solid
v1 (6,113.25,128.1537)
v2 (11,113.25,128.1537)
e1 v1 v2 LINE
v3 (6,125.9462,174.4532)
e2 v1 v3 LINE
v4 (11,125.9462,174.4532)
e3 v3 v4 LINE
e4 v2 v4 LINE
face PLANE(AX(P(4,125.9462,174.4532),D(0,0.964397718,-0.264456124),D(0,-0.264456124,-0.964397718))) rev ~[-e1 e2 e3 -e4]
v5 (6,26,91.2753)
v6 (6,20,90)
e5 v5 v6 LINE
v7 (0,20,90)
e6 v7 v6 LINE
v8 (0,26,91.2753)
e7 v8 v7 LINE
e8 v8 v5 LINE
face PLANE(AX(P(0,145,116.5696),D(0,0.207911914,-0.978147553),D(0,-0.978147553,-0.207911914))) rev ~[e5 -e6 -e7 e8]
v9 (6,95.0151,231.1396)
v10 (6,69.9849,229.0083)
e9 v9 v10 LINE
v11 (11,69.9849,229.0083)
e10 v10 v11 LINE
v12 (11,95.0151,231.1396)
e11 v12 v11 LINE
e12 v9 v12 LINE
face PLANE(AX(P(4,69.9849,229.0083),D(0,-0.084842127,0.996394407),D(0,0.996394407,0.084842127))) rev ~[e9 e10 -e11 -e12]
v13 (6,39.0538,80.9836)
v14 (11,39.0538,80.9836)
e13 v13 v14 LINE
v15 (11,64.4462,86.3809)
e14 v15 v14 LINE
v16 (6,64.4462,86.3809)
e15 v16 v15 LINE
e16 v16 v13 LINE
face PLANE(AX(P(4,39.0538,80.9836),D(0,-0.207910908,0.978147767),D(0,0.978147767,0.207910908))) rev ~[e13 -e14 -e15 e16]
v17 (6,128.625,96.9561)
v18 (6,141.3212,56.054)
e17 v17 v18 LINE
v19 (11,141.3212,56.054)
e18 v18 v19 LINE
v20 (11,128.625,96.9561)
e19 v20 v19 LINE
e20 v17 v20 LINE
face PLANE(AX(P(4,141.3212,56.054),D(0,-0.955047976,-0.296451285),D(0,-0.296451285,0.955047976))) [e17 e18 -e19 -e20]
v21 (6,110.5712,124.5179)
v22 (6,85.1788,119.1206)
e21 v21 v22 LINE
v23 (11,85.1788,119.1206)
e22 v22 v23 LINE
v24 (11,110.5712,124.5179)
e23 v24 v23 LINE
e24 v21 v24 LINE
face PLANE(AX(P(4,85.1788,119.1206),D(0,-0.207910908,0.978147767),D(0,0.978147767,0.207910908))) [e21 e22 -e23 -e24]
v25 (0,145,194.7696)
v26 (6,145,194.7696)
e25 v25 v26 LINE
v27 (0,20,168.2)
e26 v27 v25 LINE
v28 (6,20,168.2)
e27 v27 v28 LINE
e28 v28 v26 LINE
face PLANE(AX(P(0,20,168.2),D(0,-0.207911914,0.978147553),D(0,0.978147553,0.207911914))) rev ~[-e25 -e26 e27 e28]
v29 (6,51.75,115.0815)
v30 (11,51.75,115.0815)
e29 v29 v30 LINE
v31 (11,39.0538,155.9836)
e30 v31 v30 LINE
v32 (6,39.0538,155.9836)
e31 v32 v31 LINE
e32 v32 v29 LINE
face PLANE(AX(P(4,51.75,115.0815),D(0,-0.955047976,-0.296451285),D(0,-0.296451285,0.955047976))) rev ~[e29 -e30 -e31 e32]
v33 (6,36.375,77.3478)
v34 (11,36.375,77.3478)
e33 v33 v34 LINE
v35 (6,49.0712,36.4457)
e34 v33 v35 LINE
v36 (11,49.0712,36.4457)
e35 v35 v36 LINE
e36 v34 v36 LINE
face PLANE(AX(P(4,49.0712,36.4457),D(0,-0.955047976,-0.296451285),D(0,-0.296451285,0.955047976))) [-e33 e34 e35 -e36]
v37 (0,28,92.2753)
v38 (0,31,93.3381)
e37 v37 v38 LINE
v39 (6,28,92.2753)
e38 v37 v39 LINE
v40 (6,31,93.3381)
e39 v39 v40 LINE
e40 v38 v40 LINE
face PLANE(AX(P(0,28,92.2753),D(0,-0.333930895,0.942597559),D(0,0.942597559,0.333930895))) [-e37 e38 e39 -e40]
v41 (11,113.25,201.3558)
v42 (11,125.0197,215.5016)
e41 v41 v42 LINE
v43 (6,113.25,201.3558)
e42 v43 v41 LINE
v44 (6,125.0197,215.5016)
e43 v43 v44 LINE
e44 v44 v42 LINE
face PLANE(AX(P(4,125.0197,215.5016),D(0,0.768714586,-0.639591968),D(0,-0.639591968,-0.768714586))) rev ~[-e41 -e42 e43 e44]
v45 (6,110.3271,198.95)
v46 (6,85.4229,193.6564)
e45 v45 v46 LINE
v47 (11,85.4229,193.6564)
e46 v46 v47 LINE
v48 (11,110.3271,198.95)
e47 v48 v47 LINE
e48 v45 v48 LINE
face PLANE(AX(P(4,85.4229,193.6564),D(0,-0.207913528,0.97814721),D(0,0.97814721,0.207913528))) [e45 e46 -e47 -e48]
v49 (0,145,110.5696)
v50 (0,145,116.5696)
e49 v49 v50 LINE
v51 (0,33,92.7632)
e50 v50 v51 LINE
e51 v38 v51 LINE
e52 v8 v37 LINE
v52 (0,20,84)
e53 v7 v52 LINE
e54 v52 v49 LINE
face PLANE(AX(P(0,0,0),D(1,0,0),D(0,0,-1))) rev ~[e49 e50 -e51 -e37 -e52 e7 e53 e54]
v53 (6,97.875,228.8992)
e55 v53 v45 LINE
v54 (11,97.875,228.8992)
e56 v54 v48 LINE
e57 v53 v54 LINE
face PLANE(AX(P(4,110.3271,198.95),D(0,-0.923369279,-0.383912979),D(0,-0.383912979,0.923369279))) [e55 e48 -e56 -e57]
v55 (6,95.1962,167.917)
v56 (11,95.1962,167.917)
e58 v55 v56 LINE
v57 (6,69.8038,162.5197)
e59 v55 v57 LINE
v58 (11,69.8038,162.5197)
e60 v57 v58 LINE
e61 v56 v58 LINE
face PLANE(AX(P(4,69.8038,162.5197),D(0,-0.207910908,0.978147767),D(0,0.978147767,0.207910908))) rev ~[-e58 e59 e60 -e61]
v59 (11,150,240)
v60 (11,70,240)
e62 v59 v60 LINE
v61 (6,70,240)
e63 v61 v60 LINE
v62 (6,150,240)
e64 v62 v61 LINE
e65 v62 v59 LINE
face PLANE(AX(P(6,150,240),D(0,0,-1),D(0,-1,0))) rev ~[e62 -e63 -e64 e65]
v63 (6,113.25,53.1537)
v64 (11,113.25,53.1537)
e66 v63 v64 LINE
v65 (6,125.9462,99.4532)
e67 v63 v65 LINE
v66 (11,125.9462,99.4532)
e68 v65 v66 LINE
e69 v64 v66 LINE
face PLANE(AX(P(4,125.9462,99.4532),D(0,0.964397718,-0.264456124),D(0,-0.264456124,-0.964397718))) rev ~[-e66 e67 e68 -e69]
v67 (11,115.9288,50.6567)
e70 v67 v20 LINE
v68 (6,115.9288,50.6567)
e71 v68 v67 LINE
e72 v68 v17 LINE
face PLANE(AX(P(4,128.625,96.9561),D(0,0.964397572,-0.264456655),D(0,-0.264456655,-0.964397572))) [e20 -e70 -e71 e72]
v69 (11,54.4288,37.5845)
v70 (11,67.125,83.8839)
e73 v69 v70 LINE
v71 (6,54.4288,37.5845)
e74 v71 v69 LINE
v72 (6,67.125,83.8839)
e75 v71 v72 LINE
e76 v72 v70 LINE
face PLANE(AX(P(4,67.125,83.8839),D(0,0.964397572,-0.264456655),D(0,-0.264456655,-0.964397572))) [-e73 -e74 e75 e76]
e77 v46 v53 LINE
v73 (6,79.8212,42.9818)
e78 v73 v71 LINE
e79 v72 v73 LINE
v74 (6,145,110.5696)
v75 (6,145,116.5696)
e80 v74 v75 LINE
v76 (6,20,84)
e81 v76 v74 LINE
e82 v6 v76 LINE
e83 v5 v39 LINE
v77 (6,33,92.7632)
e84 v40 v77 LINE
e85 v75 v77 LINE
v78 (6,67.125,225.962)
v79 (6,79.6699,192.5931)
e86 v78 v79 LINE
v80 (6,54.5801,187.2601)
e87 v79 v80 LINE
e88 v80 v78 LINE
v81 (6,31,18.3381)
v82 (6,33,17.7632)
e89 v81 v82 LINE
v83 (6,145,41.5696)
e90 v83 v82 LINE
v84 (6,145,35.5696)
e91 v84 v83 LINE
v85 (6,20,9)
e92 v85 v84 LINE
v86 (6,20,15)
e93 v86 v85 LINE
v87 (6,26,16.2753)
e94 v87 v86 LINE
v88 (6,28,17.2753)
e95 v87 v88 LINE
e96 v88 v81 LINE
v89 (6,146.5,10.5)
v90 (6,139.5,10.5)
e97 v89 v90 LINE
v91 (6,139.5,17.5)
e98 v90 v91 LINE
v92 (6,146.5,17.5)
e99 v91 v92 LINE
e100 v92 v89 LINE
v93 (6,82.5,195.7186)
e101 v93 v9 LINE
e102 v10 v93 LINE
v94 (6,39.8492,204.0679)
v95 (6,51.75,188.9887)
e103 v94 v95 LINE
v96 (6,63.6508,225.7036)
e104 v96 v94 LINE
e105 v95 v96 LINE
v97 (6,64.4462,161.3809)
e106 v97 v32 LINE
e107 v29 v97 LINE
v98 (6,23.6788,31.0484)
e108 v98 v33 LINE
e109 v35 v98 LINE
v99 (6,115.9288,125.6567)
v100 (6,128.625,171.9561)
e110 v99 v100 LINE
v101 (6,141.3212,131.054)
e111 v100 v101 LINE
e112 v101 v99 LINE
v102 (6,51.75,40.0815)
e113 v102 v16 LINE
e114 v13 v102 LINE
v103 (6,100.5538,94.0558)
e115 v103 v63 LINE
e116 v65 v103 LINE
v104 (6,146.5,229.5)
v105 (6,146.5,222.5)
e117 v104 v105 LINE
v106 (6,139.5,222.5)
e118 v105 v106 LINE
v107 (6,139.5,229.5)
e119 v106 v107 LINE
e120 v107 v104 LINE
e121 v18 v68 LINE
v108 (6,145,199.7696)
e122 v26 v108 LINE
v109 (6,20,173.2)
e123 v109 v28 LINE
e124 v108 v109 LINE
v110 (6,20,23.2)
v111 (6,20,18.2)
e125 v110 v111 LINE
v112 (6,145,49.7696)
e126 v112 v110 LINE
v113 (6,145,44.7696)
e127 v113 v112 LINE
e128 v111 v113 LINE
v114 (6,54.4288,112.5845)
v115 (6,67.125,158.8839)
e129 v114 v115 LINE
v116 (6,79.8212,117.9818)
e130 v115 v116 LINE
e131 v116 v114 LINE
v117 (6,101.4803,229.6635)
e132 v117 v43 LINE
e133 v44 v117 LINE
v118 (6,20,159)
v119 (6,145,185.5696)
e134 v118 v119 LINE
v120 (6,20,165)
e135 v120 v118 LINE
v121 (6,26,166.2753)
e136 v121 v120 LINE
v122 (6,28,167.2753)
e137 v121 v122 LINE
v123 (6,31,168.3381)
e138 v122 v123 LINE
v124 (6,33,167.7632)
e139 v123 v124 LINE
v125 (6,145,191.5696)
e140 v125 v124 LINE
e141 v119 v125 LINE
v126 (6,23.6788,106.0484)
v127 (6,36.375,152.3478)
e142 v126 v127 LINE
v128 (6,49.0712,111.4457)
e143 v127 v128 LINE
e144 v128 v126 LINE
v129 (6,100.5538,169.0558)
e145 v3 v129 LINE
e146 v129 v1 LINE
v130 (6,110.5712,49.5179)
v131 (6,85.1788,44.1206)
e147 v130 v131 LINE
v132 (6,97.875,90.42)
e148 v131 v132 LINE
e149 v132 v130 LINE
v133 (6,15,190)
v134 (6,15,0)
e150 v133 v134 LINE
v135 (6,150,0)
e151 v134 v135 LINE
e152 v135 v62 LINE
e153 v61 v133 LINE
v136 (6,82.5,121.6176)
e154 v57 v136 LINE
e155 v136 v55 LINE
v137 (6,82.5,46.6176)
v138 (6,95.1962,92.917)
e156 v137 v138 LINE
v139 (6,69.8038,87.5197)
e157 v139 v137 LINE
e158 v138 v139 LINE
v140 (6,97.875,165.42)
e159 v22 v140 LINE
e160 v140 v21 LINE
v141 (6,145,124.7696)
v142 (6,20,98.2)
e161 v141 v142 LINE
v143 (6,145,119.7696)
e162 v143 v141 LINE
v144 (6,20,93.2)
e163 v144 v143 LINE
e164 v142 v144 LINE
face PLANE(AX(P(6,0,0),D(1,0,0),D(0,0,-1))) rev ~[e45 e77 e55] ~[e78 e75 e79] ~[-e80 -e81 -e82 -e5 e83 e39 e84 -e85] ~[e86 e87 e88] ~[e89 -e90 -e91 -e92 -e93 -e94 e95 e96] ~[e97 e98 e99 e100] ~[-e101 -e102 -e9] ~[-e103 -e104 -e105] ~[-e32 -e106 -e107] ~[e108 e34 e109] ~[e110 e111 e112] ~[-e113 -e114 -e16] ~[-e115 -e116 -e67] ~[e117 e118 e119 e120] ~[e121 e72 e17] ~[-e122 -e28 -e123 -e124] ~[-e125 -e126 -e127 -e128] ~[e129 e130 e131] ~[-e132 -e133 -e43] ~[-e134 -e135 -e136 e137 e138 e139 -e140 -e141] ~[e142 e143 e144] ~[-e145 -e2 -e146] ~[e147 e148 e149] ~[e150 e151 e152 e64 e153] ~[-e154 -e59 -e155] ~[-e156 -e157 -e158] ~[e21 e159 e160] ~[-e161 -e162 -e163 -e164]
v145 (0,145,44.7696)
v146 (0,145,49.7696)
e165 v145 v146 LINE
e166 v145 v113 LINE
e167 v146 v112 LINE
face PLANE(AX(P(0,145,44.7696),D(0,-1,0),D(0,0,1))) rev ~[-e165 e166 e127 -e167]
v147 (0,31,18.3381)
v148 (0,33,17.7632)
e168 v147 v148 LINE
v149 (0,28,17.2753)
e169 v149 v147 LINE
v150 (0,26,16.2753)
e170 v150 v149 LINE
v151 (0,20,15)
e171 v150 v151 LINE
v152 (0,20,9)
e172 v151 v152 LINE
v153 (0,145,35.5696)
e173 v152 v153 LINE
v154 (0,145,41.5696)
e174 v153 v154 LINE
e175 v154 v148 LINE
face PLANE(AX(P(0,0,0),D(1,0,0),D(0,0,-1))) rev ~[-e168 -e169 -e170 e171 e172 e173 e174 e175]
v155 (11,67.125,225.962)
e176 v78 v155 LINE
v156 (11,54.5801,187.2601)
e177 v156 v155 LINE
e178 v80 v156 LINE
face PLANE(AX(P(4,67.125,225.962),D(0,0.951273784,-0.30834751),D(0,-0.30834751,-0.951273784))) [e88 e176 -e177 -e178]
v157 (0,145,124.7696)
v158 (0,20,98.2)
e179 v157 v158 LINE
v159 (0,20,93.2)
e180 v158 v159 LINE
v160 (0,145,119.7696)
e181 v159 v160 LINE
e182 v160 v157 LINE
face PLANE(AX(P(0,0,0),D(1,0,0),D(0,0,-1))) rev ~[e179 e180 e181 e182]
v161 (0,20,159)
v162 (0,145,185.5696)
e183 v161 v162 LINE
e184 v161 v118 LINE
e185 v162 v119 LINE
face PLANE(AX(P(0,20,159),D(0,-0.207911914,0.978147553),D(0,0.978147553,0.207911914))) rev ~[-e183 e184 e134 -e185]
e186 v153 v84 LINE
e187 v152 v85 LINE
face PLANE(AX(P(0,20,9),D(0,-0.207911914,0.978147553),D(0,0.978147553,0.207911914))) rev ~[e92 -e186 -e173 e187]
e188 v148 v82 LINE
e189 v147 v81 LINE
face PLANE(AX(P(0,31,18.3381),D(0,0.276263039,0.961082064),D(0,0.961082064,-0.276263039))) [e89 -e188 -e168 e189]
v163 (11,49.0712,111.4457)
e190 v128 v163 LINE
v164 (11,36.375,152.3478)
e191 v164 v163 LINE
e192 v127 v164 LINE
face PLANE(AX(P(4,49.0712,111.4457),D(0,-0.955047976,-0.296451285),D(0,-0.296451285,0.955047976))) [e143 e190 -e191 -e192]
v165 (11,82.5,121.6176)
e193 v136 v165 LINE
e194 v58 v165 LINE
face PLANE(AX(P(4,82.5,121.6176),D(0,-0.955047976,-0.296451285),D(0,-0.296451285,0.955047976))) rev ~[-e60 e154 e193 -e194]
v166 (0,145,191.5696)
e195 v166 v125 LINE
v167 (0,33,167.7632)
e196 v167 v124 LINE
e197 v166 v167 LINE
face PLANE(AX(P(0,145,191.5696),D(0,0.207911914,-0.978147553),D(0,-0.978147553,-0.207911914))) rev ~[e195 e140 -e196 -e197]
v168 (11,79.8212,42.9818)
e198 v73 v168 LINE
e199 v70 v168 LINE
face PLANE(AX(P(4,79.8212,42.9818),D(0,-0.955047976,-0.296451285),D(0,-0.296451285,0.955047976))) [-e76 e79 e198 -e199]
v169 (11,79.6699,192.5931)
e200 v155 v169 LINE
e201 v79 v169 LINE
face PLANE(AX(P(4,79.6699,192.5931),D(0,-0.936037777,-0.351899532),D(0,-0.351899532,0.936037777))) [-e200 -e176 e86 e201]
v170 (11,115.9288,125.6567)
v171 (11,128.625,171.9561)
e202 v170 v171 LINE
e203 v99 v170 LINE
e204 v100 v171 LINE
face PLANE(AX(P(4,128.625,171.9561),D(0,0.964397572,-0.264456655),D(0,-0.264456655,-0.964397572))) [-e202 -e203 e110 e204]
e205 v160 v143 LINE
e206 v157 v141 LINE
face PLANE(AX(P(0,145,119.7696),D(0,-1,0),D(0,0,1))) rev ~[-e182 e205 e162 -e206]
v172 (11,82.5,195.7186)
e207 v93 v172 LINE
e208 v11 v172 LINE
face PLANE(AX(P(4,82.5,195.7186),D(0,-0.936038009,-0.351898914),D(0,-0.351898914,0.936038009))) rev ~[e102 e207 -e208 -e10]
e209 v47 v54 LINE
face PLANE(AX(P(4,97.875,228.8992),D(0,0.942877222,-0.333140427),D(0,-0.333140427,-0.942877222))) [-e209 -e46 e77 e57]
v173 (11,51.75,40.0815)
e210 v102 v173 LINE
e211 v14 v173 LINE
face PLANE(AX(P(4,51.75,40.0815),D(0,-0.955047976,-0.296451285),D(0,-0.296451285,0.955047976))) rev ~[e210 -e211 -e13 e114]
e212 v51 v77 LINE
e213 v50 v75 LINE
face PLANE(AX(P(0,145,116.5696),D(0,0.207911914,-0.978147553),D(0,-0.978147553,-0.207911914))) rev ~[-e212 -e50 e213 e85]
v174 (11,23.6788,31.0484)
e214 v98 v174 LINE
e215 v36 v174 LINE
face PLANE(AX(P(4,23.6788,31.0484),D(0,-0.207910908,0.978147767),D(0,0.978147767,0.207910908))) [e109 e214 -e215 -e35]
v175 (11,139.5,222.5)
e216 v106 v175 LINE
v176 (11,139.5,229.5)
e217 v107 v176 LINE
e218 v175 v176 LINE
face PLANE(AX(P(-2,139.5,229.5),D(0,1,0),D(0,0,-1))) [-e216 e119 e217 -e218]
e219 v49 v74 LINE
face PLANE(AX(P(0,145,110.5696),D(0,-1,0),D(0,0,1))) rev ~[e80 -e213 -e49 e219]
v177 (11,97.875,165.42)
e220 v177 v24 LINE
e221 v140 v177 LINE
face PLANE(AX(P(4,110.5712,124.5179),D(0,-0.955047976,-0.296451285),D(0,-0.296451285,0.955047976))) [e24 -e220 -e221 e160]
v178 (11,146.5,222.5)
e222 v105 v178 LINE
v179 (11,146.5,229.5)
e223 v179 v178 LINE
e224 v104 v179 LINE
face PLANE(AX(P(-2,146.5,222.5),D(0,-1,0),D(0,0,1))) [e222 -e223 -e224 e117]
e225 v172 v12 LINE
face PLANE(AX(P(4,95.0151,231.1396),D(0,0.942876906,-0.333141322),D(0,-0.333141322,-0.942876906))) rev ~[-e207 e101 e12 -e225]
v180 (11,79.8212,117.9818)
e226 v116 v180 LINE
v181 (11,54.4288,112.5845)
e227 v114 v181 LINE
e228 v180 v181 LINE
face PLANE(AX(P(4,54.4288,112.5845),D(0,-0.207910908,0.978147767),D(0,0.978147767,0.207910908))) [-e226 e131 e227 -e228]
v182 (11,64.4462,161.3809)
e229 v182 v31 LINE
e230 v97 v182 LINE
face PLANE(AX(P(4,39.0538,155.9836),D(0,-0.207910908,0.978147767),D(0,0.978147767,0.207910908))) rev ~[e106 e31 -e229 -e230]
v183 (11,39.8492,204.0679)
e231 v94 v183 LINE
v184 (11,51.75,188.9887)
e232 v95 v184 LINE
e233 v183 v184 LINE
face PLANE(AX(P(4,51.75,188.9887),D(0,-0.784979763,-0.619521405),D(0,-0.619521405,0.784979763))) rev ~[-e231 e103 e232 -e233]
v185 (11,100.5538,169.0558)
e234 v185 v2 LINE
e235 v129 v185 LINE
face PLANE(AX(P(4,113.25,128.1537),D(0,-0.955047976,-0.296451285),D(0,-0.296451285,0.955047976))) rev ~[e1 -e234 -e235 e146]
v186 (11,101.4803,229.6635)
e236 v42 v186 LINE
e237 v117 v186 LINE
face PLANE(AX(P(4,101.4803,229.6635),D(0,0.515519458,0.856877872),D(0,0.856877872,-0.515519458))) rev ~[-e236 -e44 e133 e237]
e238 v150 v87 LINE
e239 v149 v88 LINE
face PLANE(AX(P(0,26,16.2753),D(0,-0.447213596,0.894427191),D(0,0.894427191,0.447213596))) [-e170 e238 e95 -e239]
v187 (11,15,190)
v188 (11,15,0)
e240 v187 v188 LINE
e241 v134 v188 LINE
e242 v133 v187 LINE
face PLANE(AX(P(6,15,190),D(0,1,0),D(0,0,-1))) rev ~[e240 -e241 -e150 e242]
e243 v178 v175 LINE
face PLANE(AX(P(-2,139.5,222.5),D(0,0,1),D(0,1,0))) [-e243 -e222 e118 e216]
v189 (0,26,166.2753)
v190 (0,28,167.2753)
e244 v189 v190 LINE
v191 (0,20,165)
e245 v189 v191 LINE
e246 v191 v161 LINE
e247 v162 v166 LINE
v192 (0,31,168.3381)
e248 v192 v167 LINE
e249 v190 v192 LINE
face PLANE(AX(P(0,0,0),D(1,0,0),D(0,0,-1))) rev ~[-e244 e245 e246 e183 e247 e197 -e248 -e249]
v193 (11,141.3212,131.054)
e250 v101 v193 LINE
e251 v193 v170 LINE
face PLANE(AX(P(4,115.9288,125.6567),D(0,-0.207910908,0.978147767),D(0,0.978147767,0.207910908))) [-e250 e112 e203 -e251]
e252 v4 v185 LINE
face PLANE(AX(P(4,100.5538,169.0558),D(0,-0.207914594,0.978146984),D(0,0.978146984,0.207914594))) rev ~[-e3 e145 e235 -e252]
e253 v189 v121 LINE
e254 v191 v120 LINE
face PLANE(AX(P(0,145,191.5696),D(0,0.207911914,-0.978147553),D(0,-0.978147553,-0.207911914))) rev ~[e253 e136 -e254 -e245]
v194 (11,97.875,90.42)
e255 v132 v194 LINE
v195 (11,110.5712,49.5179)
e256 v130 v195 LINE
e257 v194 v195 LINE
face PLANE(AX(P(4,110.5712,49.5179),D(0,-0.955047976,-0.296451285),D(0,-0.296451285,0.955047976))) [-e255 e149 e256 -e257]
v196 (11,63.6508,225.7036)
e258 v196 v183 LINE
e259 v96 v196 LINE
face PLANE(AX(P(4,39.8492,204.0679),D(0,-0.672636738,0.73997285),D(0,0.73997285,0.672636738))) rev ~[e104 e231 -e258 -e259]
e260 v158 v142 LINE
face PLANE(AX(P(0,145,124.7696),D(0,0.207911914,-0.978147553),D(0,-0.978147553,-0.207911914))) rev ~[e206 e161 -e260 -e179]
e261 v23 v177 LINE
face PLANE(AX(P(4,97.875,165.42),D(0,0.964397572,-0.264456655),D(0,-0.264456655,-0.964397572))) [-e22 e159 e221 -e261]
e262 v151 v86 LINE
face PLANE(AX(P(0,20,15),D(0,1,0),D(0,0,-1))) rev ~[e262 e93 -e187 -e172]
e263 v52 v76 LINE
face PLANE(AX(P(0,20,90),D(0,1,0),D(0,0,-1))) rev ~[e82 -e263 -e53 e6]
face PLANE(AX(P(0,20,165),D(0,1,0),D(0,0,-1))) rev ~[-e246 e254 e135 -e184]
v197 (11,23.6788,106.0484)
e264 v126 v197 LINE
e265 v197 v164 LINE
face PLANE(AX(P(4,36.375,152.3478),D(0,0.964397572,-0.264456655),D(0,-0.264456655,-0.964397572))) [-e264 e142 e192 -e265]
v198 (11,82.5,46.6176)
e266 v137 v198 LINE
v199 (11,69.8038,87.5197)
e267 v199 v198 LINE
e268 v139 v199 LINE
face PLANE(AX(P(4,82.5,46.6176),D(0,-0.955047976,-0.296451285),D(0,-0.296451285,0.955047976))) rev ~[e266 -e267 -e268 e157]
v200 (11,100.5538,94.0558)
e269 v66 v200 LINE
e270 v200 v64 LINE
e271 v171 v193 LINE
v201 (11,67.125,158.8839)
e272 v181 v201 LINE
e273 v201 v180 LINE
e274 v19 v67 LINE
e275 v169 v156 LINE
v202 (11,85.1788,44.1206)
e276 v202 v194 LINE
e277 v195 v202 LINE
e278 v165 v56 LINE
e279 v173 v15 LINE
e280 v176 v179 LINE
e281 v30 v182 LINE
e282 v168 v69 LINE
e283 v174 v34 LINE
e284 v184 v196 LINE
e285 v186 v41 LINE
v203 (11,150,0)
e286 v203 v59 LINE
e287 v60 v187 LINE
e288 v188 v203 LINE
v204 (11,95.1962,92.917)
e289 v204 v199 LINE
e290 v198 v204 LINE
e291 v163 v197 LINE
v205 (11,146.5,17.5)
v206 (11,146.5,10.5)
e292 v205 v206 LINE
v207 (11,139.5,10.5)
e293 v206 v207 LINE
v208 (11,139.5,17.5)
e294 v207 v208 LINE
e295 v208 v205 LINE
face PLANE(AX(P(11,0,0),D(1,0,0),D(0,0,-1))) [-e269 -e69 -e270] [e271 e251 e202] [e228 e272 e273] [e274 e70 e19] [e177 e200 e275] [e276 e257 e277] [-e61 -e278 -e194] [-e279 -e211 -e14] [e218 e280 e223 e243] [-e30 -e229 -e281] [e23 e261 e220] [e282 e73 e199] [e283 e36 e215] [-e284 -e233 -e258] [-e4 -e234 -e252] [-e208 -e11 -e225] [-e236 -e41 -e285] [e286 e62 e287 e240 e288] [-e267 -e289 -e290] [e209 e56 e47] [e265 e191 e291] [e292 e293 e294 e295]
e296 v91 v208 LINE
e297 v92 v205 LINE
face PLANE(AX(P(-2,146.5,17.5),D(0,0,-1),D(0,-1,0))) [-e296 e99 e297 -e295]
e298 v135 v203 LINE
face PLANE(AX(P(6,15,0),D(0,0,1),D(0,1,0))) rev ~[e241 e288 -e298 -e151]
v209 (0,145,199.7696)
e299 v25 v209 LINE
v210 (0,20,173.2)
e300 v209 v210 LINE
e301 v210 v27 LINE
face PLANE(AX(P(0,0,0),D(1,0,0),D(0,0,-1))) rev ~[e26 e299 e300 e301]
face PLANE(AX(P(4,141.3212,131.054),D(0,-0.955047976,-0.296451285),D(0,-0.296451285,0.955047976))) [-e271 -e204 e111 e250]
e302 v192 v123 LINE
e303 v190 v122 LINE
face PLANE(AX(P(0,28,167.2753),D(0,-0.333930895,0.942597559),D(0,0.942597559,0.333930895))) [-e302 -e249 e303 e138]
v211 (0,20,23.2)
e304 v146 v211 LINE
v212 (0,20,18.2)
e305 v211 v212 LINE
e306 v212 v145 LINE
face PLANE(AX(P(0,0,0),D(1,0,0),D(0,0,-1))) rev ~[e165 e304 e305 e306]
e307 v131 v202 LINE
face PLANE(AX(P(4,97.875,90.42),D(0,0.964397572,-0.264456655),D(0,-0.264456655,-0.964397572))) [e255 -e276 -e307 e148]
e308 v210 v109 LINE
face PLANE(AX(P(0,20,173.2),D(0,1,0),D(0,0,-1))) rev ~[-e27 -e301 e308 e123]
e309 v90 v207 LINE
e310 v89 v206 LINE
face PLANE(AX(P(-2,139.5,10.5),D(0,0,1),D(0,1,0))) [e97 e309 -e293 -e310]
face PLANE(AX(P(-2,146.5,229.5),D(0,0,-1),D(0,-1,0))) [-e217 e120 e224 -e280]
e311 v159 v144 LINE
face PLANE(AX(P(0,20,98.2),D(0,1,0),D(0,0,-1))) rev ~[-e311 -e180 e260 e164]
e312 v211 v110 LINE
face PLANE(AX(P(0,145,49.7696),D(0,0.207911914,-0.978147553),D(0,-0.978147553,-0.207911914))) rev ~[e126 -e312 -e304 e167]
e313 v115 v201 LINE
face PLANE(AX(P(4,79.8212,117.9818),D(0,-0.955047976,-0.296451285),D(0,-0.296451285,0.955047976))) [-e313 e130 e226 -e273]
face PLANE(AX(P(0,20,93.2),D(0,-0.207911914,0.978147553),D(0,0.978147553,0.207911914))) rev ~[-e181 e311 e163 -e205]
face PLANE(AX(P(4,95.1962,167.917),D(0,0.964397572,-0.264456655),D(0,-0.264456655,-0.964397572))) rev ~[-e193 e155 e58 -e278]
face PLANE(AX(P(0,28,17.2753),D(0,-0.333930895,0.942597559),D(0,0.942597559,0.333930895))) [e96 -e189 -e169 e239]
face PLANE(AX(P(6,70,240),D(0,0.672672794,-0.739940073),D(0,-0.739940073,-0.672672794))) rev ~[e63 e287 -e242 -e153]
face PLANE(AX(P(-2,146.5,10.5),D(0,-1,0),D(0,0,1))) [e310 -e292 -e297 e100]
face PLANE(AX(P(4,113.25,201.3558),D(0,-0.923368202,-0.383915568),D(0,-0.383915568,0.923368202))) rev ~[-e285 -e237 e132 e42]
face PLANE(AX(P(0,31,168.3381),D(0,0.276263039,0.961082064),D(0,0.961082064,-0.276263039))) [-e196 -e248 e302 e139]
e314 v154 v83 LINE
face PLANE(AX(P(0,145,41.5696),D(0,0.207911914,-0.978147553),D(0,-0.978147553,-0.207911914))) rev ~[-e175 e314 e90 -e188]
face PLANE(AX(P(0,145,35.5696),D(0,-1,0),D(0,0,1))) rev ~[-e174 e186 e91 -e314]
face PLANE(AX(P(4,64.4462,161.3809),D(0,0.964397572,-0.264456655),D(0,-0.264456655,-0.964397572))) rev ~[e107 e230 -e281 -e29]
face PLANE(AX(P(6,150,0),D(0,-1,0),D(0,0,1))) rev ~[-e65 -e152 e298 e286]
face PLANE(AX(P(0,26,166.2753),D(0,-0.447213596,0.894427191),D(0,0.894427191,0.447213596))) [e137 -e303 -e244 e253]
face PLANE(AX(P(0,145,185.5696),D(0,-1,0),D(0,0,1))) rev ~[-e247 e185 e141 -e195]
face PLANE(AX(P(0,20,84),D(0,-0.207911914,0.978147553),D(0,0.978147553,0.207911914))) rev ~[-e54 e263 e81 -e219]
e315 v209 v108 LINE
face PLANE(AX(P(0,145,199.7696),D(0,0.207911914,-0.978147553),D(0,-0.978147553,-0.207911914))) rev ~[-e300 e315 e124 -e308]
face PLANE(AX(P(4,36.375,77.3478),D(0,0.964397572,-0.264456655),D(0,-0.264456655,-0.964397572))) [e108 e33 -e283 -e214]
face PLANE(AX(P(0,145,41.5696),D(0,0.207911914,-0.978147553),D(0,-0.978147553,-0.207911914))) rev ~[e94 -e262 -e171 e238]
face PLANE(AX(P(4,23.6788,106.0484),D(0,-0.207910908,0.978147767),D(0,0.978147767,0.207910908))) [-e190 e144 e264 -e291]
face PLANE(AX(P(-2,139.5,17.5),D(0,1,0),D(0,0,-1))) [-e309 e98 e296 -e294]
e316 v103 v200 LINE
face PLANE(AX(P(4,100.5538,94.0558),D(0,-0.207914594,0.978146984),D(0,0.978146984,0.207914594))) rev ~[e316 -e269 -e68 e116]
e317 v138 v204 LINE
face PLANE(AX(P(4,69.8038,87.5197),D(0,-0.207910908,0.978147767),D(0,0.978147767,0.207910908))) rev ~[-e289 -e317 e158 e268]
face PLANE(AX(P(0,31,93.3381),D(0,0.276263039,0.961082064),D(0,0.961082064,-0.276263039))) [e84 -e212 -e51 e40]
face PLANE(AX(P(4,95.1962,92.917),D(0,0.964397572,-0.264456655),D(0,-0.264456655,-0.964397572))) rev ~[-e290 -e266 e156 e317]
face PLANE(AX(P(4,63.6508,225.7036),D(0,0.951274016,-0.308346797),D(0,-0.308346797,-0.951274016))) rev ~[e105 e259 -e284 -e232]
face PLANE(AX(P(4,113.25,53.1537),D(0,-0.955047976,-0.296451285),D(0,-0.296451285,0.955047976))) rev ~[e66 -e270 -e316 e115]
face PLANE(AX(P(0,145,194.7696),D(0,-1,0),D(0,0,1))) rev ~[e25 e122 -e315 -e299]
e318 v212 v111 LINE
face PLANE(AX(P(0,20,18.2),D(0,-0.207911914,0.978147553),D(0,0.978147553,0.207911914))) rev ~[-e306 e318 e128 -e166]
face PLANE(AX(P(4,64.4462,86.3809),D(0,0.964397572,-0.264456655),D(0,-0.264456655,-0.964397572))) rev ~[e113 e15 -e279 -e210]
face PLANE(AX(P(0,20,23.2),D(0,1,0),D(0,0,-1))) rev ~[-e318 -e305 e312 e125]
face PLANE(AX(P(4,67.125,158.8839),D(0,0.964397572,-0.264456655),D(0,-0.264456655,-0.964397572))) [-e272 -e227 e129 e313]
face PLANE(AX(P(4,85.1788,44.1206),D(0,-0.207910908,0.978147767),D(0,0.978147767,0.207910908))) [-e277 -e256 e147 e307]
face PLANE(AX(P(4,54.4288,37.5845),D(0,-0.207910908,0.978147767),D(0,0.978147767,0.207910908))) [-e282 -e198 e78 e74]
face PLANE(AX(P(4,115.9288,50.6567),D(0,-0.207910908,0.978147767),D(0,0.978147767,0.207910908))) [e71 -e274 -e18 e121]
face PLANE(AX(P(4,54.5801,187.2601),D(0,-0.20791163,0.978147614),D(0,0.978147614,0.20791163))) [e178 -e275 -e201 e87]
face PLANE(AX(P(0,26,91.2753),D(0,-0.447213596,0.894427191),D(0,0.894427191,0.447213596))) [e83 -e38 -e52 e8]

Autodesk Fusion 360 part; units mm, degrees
sketch "Sketch1" plane through (0, 0, 0) normal (1, 0, 0) x (0, 0, -1)
  line L0 (0, 15) -> (0, 150)
  line L1 (0, 150) -> (-240, 150)
  line L2 (-240, 150) -> (-240, 70)
  line L3 (-240, 70) -> (-190, 15)
  line L4 (-190, 15) -> (0, 15)
extrude "Extrude1" add sketch "Sketch1" along normal blind 5 from surface at 6 makes body 1
sketch "Sketch2" plane through (0, 0, 0) normal (1, 0, 0) x (0, 0, -1)
  line L0 (-9, 20) -> (-35.5696, 145)
  line L1 (-35.5696, 145) -> (-41.5696, 145)
  line L2 (-41.5696, 145) -> (-15, 20)
  line L3 (-15, 20) -> (-9, 20)
extrude "Extrude2" add sketch "Sketch2" along normal blind 6 separate body makes body 2
sketch "Sketch3" plane through (0, 0, 0) normal (1, 0, 0) x (0, 0, -1)
  line L0 (-18.2, 20) -> (-44.7696, 145)
  line L1 (-44.7696, 145) -> (-49.7696, 145)
  line L2 (-49.7696, 145) -> (-23.2, 20)
  line L3 (-23.2, 20) -> (-18.2, 20)
extrude "Extrude3" add sketch "Sketch3" along normal blind 6 separate body makes body 3
sketch "Sketch4" plane through (0, 0, 0) normal (1, 0, 0) x (0, 0, -1)
  line L0 (-16.2753, 26) -> (-17.2753, 28)
  line L1 (-17.2753, 28) -> (-18.3381, 31)
  line L2 (-18.3381, 31) -> (-17.7632, 33)
  line L3 (-17.7632, 33) -> (-16.2753, 26)
extrude "Extrude4" add sketch "Sketch4" along normal blind 6 separate body makes body 4
sketch "Sketch5" plane through (0, 0, 0) normal (1, 0, 0) x (0, 0, -1)
  line L0 (-84, 20) -> (-110.5696, 145)
  line L1 (-110.5696, 145) -> (-116.5696, 145)
  line L2 (-116.5696, 145) -> (-90, 20)
  line L3 (-90, 20) -> (-84, 20)
extrude "Extrude5" add sketch "Sketch5" along normal blind 6 separate body makes body 5
sketch "Sketch6" plane through (0, 0, 0) normal (1, 0, 0) x (0, 0, -1)
  line L0 (-93.2, 20) -> (-119.7696, 145)
  line L1 (-119.7696, 145) -> (-124.7696, 145)
  line L2 (-124.7696, 145) -> (-98.2, 20)
  line L3 (-98.2, 20) -> (-93.2, 20)
extrude "Extrude6" add sketch "Sketch6" along normal blind 6 separate body makes body 6
sketch "Sketch7" plane through (0, 0, 0) normal (1, 0, 0) x (0, 0, -1)
  line L0 (-91.2753, 26) -> (-92.2753, 28)
  line L1 (-92.2753, 28) -> (-93.3381, 31)
  line L2 (-93.3381, 31) -> (-92.7632, 33)
  line L3 (-92.7632, 33) -> (-91.2753, 26)
extrude "Extrude7" add sketch "Sketch7" along normal blind 6 separate body makes body 7
sketch "Sketch8" plane through (0, 0, 0) normal (1, 0, 0) x (0, 0, -1)
  line L0 (-159, 20) -> (-185.5696, 145)
  line L1 (-185.5696, 145) -> (-191.5696, 145)
  line L2 (-191.5696, 145) -> (-165, 20)
  line L3 (-165, 20) -> (-159, 20)
extrude "Extrude8" add sketch "Sketch8" along normal blind 6 separate body makes body 8
sketch "Sketch9" plane through (0, 0, 0) normal (1, 0, 0) x (0, 0, -1)
  line L0 (-168.2, 20) -> (-194.7696, 145)
  line L1 (-194.7696, 145) -> (-199.7696, 145)
  line L2 (-199.7696, 145) -> (-173.2, 20)
  line L3 (-173.2, 20) -> (-168.2, 20)
extrude "Extrude9" add sketch "Sketch9" along normal blind 6 separate body makes body 9
sketch "Sketch10" plane through (0, 0, 0) normal (1, 0, 0) x (0, 0, -1)
  line L0 (-166.2753, 26) -> (-167.2753, 28)
  line L1 (-167.2753, 28) -> (-168.3381, 31)
  line L2 (-168.3381, 31) -> (-167.7632, 33)
  line L3 (-167.7632, 33) -> (-166.2753, 26)
extrude "Extrude10" add sketch "Sketch10" along normal blind 6 separate body makes body 10
combine "Combine1" operation add target body 1 tool bodies 2 3 4 5 6 7 8 9 10
sketch "Sketch11" plane through (0, 0, 0) normal (1, 0, 0) x (0, 0, -1)
  line L0 (-10.5, 139.5) -> (-10.5, 146.5)
  line L1 (-10.5, 146.5) -> (-17.5, 146.5)
  line L2 (-17.5, 146.5) -> (-17.5, 139.5)
  line L3 (-17.5, 139.5) -> (-10.5, 139.5)
extrude "Extrude11" cut sketch "Sketch11" along normal blind 30 from surface at -2 bodies 1
sketch "Sketch12" plane through (0, 0, 0) normal (1, 0, 0) x (0, 0, -1)
  line L0 (-222.5, 139.5) -> (-222.5, 146.5)
  line L1 (-222.5, 146.5) -> (-229.5, 146.5)
  line L2 (-229.5, 146.5) -> (-229.5, 139.5)
  line L3 (-229.5, 139.5) -> (-222.5, 139.5)
extrude "Extrude12" cut sketch "Sketch12" along normal blind 30 from surface at -2 bodies 1
sketch "Sketch13" plane through (0, 0, 0) normal (1, 0, 0) x (0, 0, -1)
  line L0 (-31.0484, 23.6788) -> (-36.4457, 49.0712)
  line L1 (-36.4457, 49.0712) -> (-77.3478, 36.375)
  line L2 (-77.3478, 36.375) -> (-31.0484, 23.6788)
  line L3 (-37.5845, 54.4288) -> (-42.9818, 79.8212)
  line L4 (-42.9818, 79.8212) -> (-83.8839, 67.125)
  line L5 (-83.8839, 67.125) -> (-37.5845, 54.4288)
  line L6 (-44.1206, 85.1788) -> (-49.5179, 110.5712)
  line L7 (-49.5179, 110.5712) -> (-90.42, 97.875)
  line L8 (-90.42, 97.875) -> (-44.1206, 85.1788)
  line L9 (-50.6567, 115.9288) -> (-56.054, 141.3212)
  line L10 (-56.054, 141.3212) -> (-96.9561, 128.625)
  line L11 (-96.9561, 128.625) -> (-50.6567, 115.9288)
  line L12 (-80.9836, 39.0538) -> (-86.3809, 64.4462)
  line L13 (-86.3809, 64.4462) -> (-40.0815, 51.75)
  line L14 (-40.0815, 51.75) -> (-80.9836, 39.0538)
  line L15 (-87.5197, 69.8038) -> (-92.917, 95.1962)
  line L16 (-92.917, 95.1962) -> (-46.6176, 82.5)
  line L17 (-46.6176, 82.5) -> (-87.5197, 69.8038)
  line L18 (-94.0558, 100.5538) -> (-99.4532, 125.9462)
  line L19 (-99.4532, 125.9462) -> (-53.1537, 113.25)
  line L20 (-53.1537, 113.25) -> (-94.0558, 100.5538)
  line L21 (-106.0484, 23.6788) -> (-111.4457, 49.0712)
  line L22 (-111.4457, 49.0712) -> (-152.3478, 36.375)
  line L23 (-152.3478, 36.375) -> (-106.0484, 23.6788)
  line L24 (-112.5845, 54.4288) -> (-117.9818, 79.8212)
  line L25 (-117.9818, 79.8212) -> (-158.8839, 67.125)
  line L26 (-158.8839, 67.125) -> (-112.5845, 54.4288)
  line L27 (-119.1206, 85.1788) -> (-124.5179, 110.5712)
  line L28 (-124.5179, 110.5712) -> (-165.42, 97.875)
  line L29 (-165.42, 97.875) -> (-119.1206, 85.1788)
  line L30 (-125.6567, 115.9288) -> (-131.054, 141.3212)
  line L31 (-131.054, 141.3212) -> (-171.9561, 128.625)
  line L32 (-171.9561, 128.625) -> (-125.6567, 115.9288)
  line L33 (-155.9836, 39.0538) -> (-161.3809, 64.4462)
  line L34 (-161.3809, 64.4462) -> (-115.0815, 51.75)
  line L35 (-115.0815, 51.75) -> (-155.9836, 39.0538)
  line L36 (-162.5197, 69.8038) -> (-167.917, 95.1962)
  line L37 (-167.917, 95.1962) -> (-121.6176, 82.5)
  line L38 (-121.6176, 82.5) -> (-162.5197, 69.8038)
  line L39 (-169.0558, 100.5538) -> (-174.4532, 125.9462)
  line L40 (-174.4532, 125.9462) -> (-128.1537, 113.25)
  line L41 (-128.1537, 113.25) -> (-169.0558, 100.5538)
  line L42 (-187.2601, 54.5801) -> (-192.5931, 79.6699)
  line L43 (-192.5931, 79.6699) -> (-225.962, 67.125)
  line L44 (-225.962, 67.125) -> (-187.2601, 54.5801)
  line L45 (-193.6564, 85.4229) -> (-198.95, 110.3271)
  line L46 (-198.95, 110.3271) -> (-228.8992, 97.875)
  line L47 (-228.8992, 97.875) -> (-193.6564, 85.4229)
  line L48 (-204.0679, 39.8492) -> (-225.7036, 63.6508)
  line L49 (-225.7036, 63.6508) -> (-188.9887, 51.75)
  line L50 (-188.9887, 51.75) -> (-204.0679, 39.8492)
  line L51 (-229.0083, 69.9849) -> (-231.1396, 95.0151)
  line L52 (-231.1396, 95.0151) -> (-195.7186, 82.5)
  line L53 (-195.7186, 82.5) -> (-229.0083, 69.9849)
  line L54 (-229.6635, 101.4803) -> (-215.5016, 125.0197)
  line L55 (-215.5016, 125.0197) -> (-201.3558, 113.25)
  line L56 (-201.3558, 113.25) -> (-229.6635, 101.4803)
extrude "Extrude13" cut sketch "Sketch13" along normal blind 9 from surface at 4 bodies 1
